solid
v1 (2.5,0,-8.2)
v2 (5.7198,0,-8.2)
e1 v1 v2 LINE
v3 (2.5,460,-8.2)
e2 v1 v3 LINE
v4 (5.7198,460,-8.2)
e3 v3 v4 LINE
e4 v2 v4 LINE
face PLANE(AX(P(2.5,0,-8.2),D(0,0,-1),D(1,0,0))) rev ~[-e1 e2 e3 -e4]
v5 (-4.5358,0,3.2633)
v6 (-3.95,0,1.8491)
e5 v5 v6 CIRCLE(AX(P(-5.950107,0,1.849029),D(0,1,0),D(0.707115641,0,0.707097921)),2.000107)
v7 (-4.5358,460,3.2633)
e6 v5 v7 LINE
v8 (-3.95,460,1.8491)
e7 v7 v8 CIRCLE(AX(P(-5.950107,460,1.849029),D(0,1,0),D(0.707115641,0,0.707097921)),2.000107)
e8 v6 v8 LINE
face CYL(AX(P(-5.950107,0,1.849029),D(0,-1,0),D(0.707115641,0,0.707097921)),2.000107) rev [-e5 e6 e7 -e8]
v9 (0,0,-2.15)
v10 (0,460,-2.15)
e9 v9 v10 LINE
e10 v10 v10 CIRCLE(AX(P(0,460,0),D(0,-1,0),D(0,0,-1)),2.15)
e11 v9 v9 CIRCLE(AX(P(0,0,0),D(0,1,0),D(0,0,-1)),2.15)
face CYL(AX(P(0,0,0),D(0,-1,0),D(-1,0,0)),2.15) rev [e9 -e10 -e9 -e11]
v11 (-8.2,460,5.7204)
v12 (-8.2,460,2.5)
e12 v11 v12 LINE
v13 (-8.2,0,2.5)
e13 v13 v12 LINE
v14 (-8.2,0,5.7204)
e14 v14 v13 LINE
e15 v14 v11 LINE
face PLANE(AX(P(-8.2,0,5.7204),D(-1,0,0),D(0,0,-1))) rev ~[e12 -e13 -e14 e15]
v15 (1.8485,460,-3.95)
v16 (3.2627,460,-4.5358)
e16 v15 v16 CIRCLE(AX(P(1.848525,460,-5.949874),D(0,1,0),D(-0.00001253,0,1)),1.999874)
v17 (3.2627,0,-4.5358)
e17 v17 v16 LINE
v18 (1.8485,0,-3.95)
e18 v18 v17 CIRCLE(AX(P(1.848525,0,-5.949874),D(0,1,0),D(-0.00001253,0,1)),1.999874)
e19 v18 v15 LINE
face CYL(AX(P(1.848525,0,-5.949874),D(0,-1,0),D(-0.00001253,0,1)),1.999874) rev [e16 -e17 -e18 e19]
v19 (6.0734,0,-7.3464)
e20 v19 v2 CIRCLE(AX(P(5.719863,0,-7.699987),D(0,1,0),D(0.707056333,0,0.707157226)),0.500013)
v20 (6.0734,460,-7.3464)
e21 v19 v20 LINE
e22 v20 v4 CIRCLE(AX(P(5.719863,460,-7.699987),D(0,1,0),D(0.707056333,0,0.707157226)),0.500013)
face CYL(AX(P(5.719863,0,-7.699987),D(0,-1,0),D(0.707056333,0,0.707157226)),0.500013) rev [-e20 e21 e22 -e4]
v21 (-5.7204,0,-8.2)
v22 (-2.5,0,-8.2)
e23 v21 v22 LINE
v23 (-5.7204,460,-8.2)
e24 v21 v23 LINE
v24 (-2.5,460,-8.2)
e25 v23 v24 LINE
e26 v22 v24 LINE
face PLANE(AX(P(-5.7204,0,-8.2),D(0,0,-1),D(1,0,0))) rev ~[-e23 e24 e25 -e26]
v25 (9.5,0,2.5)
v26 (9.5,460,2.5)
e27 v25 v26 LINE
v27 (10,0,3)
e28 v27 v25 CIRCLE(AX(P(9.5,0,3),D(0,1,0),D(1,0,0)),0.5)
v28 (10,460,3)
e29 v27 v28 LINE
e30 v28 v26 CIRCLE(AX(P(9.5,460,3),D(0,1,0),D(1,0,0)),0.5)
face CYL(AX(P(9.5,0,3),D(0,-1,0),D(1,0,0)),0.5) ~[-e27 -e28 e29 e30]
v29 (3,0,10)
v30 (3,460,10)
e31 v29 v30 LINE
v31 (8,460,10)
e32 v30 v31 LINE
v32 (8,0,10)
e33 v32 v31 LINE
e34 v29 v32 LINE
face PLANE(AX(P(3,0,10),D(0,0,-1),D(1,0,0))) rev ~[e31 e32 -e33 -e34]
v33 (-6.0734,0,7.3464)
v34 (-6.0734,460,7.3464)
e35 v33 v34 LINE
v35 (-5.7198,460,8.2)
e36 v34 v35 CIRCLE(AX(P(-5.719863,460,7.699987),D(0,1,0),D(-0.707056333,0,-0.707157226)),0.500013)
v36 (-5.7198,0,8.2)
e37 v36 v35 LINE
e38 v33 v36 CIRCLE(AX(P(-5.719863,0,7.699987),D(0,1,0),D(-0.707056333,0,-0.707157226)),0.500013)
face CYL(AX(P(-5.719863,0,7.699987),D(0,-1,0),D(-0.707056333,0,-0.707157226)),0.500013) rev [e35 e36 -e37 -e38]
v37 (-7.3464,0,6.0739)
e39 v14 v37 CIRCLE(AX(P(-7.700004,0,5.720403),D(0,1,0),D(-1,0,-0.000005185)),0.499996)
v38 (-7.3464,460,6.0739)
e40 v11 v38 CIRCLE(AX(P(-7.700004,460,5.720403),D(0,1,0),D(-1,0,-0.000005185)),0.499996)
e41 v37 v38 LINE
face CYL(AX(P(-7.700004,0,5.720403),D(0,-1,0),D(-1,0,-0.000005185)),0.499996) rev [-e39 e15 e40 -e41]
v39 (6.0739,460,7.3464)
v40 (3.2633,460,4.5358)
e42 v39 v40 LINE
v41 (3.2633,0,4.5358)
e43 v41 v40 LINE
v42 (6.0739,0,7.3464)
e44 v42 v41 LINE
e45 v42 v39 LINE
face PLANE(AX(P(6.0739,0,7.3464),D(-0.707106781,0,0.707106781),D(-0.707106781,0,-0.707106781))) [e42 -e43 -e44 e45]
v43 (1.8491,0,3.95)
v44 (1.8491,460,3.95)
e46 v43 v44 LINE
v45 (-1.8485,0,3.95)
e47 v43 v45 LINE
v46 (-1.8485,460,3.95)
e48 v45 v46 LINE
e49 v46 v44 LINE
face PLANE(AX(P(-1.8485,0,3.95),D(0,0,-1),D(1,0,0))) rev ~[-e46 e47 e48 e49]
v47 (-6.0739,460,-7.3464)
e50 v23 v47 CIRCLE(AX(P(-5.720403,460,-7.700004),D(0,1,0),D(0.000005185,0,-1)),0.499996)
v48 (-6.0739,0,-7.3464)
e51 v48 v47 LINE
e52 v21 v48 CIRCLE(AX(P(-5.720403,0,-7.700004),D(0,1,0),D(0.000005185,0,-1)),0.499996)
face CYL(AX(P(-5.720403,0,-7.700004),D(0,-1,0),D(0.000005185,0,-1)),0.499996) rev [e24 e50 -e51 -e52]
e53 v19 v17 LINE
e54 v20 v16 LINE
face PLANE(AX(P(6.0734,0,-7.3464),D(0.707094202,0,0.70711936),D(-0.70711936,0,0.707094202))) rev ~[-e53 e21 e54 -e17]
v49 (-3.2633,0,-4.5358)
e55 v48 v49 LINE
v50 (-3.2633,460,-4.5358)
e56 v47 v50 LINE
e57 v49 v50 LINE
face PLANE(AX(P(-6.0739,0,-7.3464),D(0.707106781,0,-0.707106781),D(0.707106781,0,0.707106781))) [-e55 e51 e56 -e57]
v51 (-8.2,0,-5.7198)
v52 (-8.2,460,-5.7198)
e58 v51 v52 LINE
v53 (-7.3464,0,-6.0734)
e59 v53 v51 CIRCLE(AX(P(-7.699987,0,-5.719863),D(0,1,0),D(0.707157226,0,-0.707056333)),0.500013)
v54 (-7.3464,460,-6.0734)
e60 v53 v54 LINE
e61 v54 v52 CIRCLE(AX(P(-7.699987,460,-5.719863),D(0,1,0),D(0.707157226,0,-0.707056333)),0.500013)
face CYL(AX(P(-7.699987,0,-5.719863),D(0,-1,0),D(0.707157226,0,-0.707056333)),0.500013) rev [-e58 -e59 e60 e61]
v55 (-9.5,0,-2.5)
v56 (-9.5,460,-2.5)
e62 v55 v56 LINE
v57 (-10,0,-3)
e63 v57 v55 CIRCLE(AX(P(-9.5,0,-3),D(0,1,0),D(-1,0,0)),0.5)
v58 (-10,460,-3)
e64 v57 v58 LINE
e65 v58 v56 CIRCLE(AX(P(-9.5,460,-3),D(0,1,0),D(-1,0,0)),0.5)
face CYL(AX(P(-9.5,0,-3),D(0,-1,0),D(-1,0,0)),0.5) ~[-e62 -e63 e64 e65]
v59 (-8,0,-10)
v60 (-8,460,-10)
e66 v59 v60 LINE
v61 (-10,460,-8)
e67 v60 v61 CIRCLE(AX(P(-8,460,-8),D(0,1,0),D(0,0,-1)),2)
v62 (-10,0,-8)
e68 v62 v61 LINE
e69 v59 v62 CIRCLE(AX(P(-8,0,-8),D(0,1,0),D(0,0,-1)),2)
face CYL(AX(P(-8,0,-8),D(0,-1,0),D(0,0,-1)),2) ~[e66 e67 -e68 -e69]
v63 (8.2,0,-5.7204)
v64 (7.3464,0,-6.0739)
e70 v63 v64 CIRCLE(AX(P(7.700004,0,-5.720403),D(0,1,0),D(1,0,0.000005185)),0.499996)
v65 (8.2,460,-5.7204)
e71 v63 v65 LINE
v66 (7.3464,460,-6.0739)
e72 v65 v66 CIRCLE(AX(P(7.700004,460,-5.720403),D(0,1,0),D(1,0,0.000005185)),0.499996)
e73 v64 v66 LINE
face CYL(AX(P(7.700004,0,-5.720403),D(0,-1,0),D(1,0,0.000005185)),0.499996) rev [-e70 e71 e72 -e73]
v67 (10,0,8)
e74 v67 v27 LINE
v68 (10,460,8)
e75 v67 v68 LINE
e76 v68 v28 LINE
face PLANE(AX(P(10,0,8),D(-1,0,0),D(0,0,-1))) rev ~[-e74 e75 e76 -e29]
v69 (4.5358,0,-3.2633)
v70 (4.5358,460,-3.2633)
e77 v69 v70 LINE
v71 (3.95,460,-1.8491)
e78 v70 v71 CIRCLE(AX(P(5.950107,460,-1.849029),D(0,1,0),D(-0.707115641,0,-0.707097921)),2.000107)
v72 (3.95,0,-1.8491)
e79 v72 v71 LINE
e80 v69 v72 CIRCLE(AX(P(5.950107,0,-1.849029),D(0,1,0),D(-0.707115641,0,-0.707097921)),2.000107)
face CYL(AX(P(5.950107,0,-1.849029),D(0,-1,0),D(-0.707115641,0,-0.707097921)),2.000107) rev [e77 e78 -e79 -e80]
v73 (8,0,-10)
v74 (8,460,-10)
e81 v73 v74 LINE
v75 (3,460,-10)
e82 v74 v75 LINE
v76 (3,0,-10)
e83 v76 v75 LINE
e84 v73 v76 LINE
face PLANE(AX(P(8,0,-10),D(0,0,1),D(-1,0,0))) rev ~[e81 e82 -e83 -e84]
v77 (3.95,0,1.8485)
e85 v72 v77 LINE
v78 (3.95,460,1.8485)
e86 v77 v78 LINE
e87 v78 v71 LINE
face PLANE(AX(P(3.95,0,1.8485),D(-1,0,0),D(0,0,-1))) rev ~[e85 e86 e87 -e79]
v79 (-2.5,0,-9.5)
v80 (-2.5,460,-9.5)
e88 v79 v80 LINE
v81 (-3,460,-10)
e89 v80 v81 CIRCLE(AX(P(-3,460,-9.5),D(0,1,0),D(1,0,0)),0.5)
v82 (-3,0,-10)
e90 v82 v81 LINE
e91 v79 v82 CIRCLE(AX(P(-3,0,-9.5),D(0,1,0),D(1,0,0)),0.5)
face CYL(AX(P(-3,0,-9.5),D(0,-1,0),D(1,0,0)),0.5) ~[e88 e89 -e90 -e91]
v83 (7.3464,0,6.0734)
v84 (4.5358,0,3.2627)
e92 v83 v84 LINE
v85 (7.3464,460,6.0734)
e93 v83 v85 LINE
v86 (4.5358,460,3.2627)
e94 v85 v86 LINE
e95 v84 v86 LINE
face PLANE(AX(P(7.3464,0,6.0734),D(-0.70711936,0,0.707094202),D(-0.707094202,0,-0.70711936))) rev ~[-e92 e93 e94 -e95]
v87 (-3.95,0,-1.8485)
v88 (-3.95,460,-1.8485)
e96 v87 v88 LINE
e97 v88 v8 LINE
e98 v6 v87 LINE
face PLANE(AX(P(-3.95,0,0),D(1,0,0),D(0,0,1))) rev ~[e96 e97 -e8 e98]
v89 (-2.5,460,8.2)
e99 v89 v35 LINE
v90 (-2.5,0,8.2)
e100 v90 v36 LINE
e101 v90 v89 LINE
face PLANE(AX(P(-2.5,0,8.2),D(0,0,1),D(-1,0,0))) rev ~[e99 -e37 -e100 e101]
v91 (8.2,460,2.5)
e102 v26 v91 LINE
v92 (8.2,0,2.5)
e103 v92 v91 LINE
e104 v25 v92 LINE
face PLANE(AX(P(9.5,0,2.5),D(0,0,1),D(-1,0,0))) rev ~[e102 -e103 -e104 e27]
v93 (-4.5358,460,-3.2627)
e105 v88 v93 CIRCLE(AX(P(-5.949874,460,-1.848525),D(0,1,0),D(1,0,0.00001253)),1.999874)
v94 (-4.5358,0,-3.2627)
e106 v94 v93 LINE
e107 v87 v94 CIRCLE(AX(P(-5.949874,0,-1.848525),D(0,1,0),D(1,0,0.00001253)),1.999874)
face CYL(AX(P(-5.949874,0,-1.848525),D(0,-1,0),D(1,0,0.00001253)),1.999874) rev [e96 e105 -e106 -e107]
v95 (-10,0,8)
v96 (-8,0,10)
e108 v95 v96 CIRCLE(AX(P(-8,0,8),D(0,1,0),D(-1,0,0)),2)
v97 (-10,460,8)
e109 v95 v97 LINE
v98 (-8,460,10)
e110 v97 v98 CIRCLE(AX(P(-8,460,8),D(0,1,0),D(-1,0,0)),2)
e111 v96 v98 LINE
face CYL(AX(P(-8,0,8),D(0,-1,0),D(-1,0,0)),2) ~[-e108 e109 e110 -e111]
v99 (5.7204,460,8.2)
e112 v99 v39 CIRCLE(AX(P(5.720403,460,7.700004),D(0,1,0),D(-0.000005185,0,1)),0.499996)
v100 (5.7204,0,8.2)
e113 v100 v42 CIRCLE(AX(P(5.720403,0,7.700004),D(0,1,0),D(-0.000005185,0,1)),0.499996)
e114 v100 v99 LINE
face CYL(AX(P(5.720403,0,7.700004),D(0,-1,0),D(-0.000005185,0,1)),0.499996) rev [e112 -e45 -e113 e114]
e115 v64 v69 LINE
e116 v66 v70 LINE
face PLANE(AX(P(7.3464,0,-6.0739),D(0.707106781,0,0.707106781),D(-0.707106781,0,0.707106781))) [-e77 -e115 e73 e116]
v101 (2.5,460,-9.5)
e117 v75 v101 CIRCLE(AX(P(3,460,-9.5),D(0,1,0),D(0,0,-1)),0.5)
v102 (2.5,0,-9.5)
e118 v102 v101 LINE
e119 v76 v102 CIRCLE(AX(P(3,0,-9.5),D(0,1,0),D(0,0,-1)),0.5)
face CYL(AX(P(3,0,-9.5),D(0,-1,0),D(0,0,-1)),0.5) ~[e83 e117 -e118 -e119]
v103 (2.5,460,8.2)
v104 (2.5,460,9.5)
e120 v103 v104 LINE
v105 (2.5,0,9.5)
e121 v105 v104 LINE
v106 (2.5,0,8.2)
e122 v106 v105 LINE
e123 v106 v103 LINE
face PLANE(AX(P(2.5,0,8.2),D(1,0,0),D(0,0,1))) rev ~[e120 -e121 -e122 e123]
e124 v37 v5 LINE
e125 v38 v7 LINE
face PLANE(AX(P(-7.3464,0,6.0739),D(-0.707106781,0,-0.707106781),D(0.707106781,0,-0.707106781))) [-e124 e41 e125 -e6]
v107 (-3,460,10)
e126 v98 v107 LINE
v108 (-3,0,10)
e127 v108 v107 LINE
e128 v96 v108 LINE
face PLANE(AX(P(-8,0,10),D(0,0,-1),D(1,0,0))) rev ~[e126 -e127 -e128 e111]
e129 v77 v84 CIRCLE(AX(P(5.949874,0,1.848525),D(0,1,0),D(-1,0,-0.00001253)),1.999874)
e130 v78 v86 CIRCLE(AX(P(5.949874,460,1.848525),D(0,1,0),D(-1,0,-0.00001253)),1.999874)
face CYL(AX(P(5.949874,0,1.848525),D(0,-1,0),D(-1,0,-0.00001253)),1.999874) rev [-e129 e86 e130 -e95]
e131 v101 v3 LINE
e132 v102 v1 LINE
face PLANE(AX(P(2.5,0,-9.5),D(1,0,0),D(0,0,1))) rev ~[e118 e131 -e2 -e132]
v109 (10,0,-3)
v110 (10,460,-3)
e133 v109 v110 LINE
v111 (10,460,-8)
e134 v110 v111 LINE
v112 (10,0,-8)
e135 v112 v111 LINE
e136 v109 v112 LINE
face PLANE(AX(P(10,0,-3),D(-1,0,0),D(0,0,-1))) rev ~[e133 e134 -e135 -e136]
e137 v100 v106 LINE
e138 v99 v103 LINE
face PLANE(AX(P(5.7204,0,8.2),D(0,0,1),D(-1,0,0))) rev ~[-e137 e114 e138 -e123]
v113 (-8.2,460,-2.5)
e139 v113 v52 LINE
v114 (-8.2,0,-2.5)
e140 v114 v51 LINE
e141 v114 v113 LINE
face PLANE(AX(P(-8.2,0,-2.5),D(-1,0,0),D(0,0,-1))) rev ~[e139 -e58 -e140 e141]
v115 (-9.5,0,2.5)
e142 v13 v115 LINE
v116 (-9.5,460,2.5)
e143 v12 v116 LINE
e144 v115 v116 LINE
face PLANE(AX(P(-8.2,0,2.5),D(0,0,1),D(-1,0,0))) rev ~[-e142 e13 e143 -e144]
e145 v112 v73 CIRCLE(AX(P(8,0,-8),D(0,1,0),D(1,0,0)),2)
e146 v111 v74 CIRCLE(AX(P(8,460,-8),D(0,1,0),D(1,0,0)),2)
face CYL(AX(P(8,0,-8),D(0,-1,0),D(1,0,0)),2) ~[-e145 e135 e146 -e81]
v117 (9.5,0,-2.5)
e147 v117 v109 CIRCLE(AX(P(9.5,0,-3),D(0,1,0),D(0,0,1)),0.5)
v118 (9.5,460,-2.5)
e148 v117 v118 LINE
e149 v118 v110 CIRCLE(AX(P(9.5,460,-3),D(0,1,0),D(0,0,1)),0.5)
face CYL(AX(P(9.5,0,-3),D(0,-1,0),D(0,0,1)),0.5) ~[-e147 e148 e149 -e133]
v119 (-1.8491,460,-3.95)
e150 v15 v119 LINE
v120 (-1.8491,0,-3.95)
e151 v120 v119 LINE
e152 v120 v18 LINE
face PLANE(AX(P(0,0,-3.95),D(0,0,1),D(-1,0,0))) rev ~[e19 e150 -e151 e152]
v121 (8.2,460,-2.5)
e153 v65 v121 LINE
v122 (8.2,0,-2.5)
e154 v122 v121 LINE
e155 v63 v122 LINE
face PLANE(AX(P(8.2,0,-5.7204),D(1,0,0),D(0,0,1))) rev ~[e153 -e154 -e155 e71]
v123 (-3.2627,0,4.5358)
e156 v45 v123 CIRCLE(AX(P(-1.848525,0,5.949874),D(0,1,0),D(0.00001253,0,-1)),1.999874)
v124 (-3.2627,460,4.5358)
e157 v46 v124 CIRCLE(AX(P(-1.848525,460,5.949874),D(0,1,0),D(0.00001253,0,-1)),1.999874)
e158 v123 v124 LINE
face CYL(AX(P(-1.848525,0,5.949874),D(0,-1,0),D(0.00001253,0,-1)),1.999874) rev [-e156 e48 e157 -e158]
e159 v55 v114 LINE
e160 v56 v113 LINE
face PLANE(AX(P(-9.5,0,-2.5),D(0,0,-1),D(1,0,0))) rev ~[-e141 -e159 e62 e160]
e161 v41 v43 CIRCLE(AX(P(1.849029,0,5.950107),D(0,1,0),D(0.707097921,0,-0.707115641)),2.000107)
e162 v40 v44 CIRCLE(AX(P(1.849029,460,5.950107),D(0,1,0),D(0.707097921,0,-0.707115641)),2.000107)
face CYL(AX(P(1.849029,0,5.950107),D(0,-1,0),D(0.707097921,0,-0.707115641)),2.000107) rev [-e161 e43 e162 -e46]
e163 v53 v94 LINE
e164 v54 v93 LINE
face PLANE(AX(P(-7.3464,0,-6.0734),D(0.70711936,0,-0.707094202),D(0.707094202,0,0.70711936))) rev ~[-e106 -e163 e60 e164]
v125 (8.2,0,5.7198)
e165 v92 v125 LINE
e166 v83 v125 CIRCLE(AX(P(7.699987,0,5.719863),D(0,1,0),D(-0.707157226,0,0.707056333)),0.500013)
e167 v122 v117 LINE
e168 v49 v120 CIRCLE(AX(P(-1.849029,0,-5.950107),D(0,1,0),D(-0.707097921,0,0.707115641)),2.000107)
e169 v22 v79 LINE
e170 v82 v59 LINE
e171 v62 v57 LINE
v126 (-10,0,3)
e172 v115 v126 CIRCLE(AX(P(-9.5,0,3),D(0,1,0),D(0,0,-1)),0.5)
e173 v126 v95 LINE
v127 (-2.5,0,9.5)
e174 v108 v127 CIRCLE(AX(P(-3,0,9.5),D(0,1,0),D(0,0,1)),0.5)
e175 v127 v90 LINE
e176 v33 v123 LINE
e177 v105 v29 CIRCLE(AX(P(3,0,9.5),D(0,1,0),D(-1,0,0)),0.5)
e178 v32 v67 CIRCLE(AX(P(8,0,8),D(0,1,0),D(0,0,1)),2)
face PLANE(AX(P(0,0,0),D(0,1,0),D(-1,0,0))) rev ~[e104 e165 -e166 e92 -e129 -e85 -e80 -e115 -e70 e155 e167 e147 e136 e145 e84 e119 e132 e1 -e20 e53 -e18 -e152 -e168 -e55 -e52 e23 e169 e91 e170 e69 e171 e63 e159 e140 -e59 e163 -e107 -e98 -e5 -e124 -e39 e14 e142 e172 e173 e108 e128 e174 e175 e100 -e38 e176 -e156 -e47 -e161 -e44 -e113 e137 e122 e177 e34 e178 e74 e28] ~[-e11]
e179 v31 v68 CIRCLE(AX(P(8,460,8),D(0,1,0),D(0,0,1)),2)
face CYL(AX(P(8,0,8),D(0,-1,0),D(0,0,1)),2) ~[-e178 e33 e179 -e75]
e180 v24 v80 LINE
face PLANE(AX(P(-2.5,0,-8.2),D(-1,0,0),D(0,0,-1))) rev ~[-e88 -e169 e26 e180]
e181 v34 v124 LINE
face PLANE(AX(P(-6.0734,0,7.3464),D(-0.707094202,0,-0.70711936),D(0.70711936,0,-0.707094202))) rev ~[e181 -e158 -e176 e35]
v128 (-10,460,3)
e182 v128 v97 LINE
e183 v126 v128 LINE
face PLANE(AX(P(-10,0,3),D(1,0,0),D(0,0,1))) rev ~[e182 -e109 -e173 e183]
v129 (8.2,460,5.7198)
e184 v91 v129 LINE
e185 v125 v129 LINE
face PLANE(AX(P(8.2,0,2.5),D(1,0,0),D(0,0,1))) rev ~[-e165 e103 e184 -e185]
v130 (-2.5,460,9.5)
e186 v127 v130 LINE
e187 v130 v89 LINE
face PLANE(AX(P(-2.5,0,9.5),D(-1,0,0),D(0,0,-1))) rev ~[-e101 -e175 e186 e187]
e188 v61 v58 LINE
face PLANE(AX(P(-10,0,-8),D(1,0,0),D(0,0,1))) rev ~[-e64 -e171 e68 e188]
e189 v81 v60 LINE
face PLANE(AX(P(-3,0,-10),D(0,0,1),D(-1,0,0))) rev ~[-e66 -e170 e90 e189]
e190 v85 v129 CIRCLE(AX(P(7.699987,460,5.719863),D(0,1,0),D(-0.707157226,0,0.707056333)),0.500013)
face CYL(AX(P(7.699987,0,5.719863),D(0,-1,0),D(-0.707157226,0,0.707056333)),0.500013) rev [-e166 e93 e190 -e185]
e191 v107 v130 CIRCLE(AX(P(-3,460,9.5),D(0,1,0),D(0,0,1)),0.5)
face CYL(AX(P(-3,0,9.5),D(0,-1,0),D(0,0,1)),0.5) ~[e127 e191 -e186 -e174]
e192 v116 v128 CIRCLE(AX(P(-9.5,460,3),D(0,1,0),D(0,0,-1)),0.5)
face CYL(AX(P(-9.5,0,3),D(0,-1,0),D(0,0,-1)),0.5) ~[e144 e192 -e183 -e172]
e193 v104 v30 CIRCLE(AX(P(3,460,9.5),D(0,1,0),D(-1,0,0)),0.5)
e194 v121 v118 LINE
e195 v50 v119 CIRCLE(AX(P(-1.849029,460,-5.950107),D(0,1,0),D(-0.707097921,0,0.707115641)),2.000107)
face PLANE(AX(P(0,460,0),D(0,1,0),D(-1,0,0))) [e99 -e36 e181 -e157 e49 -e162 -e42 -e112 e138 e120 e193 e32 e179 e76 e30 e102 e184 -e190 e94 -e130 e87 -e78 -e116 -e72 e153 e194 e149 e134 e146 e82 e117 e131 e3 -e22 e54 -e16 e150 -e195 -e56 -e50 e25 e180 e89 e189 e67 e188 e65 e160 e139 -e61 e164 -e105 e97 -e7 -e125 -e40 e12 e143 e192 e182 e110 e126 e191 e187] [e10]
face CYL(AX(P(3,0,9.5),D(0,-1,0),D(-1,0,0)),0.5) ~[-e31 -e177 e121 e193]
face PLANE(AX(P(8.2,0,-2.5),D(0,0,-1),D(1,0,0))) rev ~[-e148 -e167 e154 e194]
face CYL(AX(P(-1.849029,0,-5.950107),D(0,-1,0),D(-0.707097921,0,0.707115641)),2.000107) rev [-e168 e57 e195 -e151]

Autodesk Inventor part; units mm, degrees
ref_plane "YZ Plane" through (0, 0, 0) normal (1, 0, 0) x (0, 1, 0)
ref_plane "XZ Plane" through (0, 0, 0) normal (0, 1, 0) x (-1, 0, 0)
ref_plane "XY Plane" through (0, 0, 0) normal (0, 0, 1) x (1, 0, 0)
sketch "Sketch1" plane through (0, 0, 0) normal (0, 1, 0) x (-1, 0, 0)
  line L0 (8, 10) -> (3, 10)
  line L1 (10, 3) -> (10, 8)
  line L2 (2.5, 9.5) -> (2.5, 8.2)
  line L3 (2.5, 8.2) -> (5.7198, 8.2)
  line L4 (6.0734, 7.3464) -> (3.2627, 4.5358)
  line L5 (1.8485, 3.95) -> (0, 3.95)
  line L6 (0, 3.95) -> (0, 2.15)
  line L7 (0, 2.15) -> (0, 2.15)
  line L8 (2.15, 0) -> (2.15, 0)
  line L9 (2.15, 0) -> (3.95, 0)
  line L10 (8.2, 5.7204) -> (8.2, 2.5)
  line L11 (8.2, 2.5) -> (9.5, 2.5)
  line L12 (0, 29.0836) -> (0, -4.1523) construction
  line L13 (3.95, 0) -> (3.95, 1.8491)
  line L14 (7.3464, 6.0739) -> (4.5358, 3.2633)
  arc A0 (10, 8) -> (8, 10) centre (8, 8) ccw
  arc A1 (8.2, 5.7204) -> (7.3464, 6.0739) centre (7.7, 5.7204) ccw
  arc A2 (6.0734, 7.3464) -> (5.7198, 8.2) centre (5.7198, 7.7) ccw
  arc A3 (4.5358, 3.2633) -> (3.95, 1.8491) centre (5.95, 1.8491) ccw
  arc A4 (1.8485, 3.95) -> (3.2627, 4.5358) centre (1.8485, 5.95) ccw
  arc A5 (2.15, 0) -> (0, 2.15) centre (0, 0) ccw
  arc A6 (3, 10) -> (2.5, 9.5) centre (3, 9.5) ccw
  arc A7 (9.5, 2.5) -> (10, 3) centre (9.5, 3) ccw
  line L15 (18.5462, 0) -> (-9.9601, 0) construction
  line L16 (-3, 10) -> (-8, 10)
  arc A8 (-2.5, 9.5) -> (-3, 10) centre (-3, 9.5) ccw
  line L17 (-2.5, 8.2) -> (-2.5, 9.5)
  line L18 (-5.7204, 8.2) -> (-2.5, 8.2)
  arc A9 (-5.7204, 8.2) -> (-6.0739, 7.3464) centre (-5.7204, 7.7) ccw
  line L19 (-6.0739, 7.3464) -> (-3.2633, 4.5358)
  arc A10 (-3.2633, 4.5358) -> (-1.8491, 3.95) centre (-1.8491, 5.95) ccw
  line L20 (0, 3.95) -> (-1.8491, 3.95)
  line L21 (0, 2.15) -> (0, 3.95)
  arc A11 (0, 2.15) -> (-2.15, 0) centre (0, 0) ccw
  line L22 (-3.95, 0) -> (-2.15, 0)
  line L23 (-3.95, 1.8485) -> (-3.95, 0)
  arc A12 (-3.95, 1.8485) -> (-4.5358, 3.2627) centre (-5.95, 1.8485) ccw
  line L24 (-7.3464, 6.0734) -> (-4.5358, 3.2627)
  arc A13 (-7.3464, 6.0734) -> (-8.2, 5.7198) centre (-7.7, 5.7198) ccw
  line L25 (-8.2, 2.5) -> (-8.2, 5.7198)
  line L26 (-9.5, 2.5) -> (-8.2, 2.5)
  arc A14 (-10, 3) -> (-9.5, 2.5) centre (-9.5, 3) ccw
  line L27 (-10, 8) -> (-10, 3)
  arc A15 (-8, 10) -> (-10, 8) centre (-8, 8) ccw
  line L28 (-10, -3) -> (-10, -8)
  arc A16 (-9.5, -2.5) -> (-10, -3) centre (-9.5, -3) ccw
  line L29 (-8.2, -2.5) -> (-9.5, -2.5)
  line L30 (-8.2, -5.7204) -> (-8.2, -2.5)
  arc A17 (-8.2, -5.7204) -> (-7.3464, -6.0739) centre (-7.7, -5.7204) ccw
  line L31 (-7.3464, -6.0739) -> (-4.5358, -3.2633)
  arc A18 (-4.5358, -3.2633) -> (-3.95, -1.8491) centre (-5.95, -1.8491) ccw
  line L32 (-3.95, 0) -> (-3.95, -1.8491)
  line L33 (-2.15, 0) -> (-3.95, 0)
  arc A19 (-2.15, 0) -> (0, -2.15) centre (0, 0) ccw
  line L34 (0, -3.95) -> (0, -2.15)
  line L35 (-1.8485, -3.95) -> (0, -3.95)
  arc A20 (-1.8485, -3.95) -> (-3.2627, -4.5358) centre (-1.8485, -5.95) ccw
  line L36 (-6.0734, -7.3464) -> (-3.2627, -4.5358)
  arc A21 (-6.0734, -7.3464) -> (-5.7198, -8.2) centre (-5.7198, -7.7) ccw
  line L37 (-2.5, -8.2) -> (-5.7198, -8.2)
  line L38 (-2.5, -9.5) -> (-2.5, -8.2)
  arc A22 (-3, -10) -> (-2.5, -9.5) centre (-3, -9.5) ccw
  line L39 (-8, -10) -> (-3, -10)
  arc A23 (-10, -8) -> (-8, -10) centre (-8, -8) ccw
  line L40 (3, -10) -> (8, -10)
  arc A24 (2.5, -9.5) -> (3, -10) centre (3, -9.5) ccw
  line L41 (2.5, -8.2) -> (2.5, -9.5)
  line L42 (5.7204, -8.2) -> (2.5, -8.2)
  arc A25 (5.7204, -8.2) -> (6.0739, -7.3464) centre (5.7204, -7.7) ccw
  line L43 (6.0739, -7.3464) -> (3.2633, -4.5358)
  arc A26 (3.2633, -4.5358) -> (1.8491, -3.95) centre (1.8491, -5.95) ccw
  line L44 (0, -3.95) -> (1.8491, -3.95)
  line L45 (0, -2.15) -> (0, -3.95)
  arc A27 (0, -2.15) -> (2.15, 0) centre (0, 0) ccw
  line L46 (3.95, 0) -> (2.15, 0)
  line L47 (3.95, -1.8485) -> (3.95, 0)
  arc A28 (3.95, -1.8485) -> (4.5358, -3.2627) centre (5.95, -1.8485) ccw
  line L48 (7.3464, -6.0734) -> (4.5358, -3.2627)
  arc A29 (7.3464, -6.0734) -> (8.2, -5.7198) centre (7.7, -5.7198) ccw
  line L49 (8.2, -2.5) -> (8.2, -5.7198)
  line L50 (9.5, -2.5) -> (8.2, -2.5)
  arc A30 (10, -3) -> (9.5, -2.5) centre (9.5, -3) ccw
  line L51 (10, -8) -> (10, -3)
  arc A31 (8, -10) -> (10, -8) centre (8, -8) ccw
  point P0 (0, 0)
  point P1 (3.95, 2.6775)
  point P2 (-2.6775, 3.95)
  point P3 (0, 0)
  point P4 (-3.95, -2.6775)
  point P5 (0, 0)
  point P6 (2.6775, -3.95)
  point P7 (0, 0)
  dimension "d1" = 2.5
  dimension "d2" = 2.5
  dimension "d3" = 1.8
  dimension "d4" = 1.8
  dimension "d5" = 45
  dimension "d6" = 2.15
  dimension "d7" = 2.15
  dimension "d8" = 1.8
  dimension "d11" = 10
  dimension "d12" = 10
  dimension "d14" = 1.8
  dimension "d15" = 1.8
  dimension "d16" = 2.6775
  dimension "d18" = 2
  dimension "d19" = 0.5
  dimension "d20" = 2
  dimension "d21" = 2.15
  dimension "d22" = 0.5
  dimension "d25" = 360
extrude "Profil_20x20" add sketch "Sketch1" along normal blind 460 contours A0 L1 A7 L11 L10 A1 L14 A3 L13 L9 A5 L6 L5 A4 L4 A2 L3 L2 A6 L0 | L6 A11 L22 L23 A12 L24 A13 L25 L26 A14 L27 A15 L16 A8 L17 L18 A9 L19 A10 L20 | L47 A28 L48 A29 L49 L50 A30 L51 A31 L40 A24 L41 L42 A25 L43 A26 L44 L34 A27 L9 | A19 L34 L35 A20 L36 A21 L37 L38 A22 L39 A23 L28 A16 L29 L30 A17 L31 A18 L32 L22
properties part number "Profil_20x20_330"
